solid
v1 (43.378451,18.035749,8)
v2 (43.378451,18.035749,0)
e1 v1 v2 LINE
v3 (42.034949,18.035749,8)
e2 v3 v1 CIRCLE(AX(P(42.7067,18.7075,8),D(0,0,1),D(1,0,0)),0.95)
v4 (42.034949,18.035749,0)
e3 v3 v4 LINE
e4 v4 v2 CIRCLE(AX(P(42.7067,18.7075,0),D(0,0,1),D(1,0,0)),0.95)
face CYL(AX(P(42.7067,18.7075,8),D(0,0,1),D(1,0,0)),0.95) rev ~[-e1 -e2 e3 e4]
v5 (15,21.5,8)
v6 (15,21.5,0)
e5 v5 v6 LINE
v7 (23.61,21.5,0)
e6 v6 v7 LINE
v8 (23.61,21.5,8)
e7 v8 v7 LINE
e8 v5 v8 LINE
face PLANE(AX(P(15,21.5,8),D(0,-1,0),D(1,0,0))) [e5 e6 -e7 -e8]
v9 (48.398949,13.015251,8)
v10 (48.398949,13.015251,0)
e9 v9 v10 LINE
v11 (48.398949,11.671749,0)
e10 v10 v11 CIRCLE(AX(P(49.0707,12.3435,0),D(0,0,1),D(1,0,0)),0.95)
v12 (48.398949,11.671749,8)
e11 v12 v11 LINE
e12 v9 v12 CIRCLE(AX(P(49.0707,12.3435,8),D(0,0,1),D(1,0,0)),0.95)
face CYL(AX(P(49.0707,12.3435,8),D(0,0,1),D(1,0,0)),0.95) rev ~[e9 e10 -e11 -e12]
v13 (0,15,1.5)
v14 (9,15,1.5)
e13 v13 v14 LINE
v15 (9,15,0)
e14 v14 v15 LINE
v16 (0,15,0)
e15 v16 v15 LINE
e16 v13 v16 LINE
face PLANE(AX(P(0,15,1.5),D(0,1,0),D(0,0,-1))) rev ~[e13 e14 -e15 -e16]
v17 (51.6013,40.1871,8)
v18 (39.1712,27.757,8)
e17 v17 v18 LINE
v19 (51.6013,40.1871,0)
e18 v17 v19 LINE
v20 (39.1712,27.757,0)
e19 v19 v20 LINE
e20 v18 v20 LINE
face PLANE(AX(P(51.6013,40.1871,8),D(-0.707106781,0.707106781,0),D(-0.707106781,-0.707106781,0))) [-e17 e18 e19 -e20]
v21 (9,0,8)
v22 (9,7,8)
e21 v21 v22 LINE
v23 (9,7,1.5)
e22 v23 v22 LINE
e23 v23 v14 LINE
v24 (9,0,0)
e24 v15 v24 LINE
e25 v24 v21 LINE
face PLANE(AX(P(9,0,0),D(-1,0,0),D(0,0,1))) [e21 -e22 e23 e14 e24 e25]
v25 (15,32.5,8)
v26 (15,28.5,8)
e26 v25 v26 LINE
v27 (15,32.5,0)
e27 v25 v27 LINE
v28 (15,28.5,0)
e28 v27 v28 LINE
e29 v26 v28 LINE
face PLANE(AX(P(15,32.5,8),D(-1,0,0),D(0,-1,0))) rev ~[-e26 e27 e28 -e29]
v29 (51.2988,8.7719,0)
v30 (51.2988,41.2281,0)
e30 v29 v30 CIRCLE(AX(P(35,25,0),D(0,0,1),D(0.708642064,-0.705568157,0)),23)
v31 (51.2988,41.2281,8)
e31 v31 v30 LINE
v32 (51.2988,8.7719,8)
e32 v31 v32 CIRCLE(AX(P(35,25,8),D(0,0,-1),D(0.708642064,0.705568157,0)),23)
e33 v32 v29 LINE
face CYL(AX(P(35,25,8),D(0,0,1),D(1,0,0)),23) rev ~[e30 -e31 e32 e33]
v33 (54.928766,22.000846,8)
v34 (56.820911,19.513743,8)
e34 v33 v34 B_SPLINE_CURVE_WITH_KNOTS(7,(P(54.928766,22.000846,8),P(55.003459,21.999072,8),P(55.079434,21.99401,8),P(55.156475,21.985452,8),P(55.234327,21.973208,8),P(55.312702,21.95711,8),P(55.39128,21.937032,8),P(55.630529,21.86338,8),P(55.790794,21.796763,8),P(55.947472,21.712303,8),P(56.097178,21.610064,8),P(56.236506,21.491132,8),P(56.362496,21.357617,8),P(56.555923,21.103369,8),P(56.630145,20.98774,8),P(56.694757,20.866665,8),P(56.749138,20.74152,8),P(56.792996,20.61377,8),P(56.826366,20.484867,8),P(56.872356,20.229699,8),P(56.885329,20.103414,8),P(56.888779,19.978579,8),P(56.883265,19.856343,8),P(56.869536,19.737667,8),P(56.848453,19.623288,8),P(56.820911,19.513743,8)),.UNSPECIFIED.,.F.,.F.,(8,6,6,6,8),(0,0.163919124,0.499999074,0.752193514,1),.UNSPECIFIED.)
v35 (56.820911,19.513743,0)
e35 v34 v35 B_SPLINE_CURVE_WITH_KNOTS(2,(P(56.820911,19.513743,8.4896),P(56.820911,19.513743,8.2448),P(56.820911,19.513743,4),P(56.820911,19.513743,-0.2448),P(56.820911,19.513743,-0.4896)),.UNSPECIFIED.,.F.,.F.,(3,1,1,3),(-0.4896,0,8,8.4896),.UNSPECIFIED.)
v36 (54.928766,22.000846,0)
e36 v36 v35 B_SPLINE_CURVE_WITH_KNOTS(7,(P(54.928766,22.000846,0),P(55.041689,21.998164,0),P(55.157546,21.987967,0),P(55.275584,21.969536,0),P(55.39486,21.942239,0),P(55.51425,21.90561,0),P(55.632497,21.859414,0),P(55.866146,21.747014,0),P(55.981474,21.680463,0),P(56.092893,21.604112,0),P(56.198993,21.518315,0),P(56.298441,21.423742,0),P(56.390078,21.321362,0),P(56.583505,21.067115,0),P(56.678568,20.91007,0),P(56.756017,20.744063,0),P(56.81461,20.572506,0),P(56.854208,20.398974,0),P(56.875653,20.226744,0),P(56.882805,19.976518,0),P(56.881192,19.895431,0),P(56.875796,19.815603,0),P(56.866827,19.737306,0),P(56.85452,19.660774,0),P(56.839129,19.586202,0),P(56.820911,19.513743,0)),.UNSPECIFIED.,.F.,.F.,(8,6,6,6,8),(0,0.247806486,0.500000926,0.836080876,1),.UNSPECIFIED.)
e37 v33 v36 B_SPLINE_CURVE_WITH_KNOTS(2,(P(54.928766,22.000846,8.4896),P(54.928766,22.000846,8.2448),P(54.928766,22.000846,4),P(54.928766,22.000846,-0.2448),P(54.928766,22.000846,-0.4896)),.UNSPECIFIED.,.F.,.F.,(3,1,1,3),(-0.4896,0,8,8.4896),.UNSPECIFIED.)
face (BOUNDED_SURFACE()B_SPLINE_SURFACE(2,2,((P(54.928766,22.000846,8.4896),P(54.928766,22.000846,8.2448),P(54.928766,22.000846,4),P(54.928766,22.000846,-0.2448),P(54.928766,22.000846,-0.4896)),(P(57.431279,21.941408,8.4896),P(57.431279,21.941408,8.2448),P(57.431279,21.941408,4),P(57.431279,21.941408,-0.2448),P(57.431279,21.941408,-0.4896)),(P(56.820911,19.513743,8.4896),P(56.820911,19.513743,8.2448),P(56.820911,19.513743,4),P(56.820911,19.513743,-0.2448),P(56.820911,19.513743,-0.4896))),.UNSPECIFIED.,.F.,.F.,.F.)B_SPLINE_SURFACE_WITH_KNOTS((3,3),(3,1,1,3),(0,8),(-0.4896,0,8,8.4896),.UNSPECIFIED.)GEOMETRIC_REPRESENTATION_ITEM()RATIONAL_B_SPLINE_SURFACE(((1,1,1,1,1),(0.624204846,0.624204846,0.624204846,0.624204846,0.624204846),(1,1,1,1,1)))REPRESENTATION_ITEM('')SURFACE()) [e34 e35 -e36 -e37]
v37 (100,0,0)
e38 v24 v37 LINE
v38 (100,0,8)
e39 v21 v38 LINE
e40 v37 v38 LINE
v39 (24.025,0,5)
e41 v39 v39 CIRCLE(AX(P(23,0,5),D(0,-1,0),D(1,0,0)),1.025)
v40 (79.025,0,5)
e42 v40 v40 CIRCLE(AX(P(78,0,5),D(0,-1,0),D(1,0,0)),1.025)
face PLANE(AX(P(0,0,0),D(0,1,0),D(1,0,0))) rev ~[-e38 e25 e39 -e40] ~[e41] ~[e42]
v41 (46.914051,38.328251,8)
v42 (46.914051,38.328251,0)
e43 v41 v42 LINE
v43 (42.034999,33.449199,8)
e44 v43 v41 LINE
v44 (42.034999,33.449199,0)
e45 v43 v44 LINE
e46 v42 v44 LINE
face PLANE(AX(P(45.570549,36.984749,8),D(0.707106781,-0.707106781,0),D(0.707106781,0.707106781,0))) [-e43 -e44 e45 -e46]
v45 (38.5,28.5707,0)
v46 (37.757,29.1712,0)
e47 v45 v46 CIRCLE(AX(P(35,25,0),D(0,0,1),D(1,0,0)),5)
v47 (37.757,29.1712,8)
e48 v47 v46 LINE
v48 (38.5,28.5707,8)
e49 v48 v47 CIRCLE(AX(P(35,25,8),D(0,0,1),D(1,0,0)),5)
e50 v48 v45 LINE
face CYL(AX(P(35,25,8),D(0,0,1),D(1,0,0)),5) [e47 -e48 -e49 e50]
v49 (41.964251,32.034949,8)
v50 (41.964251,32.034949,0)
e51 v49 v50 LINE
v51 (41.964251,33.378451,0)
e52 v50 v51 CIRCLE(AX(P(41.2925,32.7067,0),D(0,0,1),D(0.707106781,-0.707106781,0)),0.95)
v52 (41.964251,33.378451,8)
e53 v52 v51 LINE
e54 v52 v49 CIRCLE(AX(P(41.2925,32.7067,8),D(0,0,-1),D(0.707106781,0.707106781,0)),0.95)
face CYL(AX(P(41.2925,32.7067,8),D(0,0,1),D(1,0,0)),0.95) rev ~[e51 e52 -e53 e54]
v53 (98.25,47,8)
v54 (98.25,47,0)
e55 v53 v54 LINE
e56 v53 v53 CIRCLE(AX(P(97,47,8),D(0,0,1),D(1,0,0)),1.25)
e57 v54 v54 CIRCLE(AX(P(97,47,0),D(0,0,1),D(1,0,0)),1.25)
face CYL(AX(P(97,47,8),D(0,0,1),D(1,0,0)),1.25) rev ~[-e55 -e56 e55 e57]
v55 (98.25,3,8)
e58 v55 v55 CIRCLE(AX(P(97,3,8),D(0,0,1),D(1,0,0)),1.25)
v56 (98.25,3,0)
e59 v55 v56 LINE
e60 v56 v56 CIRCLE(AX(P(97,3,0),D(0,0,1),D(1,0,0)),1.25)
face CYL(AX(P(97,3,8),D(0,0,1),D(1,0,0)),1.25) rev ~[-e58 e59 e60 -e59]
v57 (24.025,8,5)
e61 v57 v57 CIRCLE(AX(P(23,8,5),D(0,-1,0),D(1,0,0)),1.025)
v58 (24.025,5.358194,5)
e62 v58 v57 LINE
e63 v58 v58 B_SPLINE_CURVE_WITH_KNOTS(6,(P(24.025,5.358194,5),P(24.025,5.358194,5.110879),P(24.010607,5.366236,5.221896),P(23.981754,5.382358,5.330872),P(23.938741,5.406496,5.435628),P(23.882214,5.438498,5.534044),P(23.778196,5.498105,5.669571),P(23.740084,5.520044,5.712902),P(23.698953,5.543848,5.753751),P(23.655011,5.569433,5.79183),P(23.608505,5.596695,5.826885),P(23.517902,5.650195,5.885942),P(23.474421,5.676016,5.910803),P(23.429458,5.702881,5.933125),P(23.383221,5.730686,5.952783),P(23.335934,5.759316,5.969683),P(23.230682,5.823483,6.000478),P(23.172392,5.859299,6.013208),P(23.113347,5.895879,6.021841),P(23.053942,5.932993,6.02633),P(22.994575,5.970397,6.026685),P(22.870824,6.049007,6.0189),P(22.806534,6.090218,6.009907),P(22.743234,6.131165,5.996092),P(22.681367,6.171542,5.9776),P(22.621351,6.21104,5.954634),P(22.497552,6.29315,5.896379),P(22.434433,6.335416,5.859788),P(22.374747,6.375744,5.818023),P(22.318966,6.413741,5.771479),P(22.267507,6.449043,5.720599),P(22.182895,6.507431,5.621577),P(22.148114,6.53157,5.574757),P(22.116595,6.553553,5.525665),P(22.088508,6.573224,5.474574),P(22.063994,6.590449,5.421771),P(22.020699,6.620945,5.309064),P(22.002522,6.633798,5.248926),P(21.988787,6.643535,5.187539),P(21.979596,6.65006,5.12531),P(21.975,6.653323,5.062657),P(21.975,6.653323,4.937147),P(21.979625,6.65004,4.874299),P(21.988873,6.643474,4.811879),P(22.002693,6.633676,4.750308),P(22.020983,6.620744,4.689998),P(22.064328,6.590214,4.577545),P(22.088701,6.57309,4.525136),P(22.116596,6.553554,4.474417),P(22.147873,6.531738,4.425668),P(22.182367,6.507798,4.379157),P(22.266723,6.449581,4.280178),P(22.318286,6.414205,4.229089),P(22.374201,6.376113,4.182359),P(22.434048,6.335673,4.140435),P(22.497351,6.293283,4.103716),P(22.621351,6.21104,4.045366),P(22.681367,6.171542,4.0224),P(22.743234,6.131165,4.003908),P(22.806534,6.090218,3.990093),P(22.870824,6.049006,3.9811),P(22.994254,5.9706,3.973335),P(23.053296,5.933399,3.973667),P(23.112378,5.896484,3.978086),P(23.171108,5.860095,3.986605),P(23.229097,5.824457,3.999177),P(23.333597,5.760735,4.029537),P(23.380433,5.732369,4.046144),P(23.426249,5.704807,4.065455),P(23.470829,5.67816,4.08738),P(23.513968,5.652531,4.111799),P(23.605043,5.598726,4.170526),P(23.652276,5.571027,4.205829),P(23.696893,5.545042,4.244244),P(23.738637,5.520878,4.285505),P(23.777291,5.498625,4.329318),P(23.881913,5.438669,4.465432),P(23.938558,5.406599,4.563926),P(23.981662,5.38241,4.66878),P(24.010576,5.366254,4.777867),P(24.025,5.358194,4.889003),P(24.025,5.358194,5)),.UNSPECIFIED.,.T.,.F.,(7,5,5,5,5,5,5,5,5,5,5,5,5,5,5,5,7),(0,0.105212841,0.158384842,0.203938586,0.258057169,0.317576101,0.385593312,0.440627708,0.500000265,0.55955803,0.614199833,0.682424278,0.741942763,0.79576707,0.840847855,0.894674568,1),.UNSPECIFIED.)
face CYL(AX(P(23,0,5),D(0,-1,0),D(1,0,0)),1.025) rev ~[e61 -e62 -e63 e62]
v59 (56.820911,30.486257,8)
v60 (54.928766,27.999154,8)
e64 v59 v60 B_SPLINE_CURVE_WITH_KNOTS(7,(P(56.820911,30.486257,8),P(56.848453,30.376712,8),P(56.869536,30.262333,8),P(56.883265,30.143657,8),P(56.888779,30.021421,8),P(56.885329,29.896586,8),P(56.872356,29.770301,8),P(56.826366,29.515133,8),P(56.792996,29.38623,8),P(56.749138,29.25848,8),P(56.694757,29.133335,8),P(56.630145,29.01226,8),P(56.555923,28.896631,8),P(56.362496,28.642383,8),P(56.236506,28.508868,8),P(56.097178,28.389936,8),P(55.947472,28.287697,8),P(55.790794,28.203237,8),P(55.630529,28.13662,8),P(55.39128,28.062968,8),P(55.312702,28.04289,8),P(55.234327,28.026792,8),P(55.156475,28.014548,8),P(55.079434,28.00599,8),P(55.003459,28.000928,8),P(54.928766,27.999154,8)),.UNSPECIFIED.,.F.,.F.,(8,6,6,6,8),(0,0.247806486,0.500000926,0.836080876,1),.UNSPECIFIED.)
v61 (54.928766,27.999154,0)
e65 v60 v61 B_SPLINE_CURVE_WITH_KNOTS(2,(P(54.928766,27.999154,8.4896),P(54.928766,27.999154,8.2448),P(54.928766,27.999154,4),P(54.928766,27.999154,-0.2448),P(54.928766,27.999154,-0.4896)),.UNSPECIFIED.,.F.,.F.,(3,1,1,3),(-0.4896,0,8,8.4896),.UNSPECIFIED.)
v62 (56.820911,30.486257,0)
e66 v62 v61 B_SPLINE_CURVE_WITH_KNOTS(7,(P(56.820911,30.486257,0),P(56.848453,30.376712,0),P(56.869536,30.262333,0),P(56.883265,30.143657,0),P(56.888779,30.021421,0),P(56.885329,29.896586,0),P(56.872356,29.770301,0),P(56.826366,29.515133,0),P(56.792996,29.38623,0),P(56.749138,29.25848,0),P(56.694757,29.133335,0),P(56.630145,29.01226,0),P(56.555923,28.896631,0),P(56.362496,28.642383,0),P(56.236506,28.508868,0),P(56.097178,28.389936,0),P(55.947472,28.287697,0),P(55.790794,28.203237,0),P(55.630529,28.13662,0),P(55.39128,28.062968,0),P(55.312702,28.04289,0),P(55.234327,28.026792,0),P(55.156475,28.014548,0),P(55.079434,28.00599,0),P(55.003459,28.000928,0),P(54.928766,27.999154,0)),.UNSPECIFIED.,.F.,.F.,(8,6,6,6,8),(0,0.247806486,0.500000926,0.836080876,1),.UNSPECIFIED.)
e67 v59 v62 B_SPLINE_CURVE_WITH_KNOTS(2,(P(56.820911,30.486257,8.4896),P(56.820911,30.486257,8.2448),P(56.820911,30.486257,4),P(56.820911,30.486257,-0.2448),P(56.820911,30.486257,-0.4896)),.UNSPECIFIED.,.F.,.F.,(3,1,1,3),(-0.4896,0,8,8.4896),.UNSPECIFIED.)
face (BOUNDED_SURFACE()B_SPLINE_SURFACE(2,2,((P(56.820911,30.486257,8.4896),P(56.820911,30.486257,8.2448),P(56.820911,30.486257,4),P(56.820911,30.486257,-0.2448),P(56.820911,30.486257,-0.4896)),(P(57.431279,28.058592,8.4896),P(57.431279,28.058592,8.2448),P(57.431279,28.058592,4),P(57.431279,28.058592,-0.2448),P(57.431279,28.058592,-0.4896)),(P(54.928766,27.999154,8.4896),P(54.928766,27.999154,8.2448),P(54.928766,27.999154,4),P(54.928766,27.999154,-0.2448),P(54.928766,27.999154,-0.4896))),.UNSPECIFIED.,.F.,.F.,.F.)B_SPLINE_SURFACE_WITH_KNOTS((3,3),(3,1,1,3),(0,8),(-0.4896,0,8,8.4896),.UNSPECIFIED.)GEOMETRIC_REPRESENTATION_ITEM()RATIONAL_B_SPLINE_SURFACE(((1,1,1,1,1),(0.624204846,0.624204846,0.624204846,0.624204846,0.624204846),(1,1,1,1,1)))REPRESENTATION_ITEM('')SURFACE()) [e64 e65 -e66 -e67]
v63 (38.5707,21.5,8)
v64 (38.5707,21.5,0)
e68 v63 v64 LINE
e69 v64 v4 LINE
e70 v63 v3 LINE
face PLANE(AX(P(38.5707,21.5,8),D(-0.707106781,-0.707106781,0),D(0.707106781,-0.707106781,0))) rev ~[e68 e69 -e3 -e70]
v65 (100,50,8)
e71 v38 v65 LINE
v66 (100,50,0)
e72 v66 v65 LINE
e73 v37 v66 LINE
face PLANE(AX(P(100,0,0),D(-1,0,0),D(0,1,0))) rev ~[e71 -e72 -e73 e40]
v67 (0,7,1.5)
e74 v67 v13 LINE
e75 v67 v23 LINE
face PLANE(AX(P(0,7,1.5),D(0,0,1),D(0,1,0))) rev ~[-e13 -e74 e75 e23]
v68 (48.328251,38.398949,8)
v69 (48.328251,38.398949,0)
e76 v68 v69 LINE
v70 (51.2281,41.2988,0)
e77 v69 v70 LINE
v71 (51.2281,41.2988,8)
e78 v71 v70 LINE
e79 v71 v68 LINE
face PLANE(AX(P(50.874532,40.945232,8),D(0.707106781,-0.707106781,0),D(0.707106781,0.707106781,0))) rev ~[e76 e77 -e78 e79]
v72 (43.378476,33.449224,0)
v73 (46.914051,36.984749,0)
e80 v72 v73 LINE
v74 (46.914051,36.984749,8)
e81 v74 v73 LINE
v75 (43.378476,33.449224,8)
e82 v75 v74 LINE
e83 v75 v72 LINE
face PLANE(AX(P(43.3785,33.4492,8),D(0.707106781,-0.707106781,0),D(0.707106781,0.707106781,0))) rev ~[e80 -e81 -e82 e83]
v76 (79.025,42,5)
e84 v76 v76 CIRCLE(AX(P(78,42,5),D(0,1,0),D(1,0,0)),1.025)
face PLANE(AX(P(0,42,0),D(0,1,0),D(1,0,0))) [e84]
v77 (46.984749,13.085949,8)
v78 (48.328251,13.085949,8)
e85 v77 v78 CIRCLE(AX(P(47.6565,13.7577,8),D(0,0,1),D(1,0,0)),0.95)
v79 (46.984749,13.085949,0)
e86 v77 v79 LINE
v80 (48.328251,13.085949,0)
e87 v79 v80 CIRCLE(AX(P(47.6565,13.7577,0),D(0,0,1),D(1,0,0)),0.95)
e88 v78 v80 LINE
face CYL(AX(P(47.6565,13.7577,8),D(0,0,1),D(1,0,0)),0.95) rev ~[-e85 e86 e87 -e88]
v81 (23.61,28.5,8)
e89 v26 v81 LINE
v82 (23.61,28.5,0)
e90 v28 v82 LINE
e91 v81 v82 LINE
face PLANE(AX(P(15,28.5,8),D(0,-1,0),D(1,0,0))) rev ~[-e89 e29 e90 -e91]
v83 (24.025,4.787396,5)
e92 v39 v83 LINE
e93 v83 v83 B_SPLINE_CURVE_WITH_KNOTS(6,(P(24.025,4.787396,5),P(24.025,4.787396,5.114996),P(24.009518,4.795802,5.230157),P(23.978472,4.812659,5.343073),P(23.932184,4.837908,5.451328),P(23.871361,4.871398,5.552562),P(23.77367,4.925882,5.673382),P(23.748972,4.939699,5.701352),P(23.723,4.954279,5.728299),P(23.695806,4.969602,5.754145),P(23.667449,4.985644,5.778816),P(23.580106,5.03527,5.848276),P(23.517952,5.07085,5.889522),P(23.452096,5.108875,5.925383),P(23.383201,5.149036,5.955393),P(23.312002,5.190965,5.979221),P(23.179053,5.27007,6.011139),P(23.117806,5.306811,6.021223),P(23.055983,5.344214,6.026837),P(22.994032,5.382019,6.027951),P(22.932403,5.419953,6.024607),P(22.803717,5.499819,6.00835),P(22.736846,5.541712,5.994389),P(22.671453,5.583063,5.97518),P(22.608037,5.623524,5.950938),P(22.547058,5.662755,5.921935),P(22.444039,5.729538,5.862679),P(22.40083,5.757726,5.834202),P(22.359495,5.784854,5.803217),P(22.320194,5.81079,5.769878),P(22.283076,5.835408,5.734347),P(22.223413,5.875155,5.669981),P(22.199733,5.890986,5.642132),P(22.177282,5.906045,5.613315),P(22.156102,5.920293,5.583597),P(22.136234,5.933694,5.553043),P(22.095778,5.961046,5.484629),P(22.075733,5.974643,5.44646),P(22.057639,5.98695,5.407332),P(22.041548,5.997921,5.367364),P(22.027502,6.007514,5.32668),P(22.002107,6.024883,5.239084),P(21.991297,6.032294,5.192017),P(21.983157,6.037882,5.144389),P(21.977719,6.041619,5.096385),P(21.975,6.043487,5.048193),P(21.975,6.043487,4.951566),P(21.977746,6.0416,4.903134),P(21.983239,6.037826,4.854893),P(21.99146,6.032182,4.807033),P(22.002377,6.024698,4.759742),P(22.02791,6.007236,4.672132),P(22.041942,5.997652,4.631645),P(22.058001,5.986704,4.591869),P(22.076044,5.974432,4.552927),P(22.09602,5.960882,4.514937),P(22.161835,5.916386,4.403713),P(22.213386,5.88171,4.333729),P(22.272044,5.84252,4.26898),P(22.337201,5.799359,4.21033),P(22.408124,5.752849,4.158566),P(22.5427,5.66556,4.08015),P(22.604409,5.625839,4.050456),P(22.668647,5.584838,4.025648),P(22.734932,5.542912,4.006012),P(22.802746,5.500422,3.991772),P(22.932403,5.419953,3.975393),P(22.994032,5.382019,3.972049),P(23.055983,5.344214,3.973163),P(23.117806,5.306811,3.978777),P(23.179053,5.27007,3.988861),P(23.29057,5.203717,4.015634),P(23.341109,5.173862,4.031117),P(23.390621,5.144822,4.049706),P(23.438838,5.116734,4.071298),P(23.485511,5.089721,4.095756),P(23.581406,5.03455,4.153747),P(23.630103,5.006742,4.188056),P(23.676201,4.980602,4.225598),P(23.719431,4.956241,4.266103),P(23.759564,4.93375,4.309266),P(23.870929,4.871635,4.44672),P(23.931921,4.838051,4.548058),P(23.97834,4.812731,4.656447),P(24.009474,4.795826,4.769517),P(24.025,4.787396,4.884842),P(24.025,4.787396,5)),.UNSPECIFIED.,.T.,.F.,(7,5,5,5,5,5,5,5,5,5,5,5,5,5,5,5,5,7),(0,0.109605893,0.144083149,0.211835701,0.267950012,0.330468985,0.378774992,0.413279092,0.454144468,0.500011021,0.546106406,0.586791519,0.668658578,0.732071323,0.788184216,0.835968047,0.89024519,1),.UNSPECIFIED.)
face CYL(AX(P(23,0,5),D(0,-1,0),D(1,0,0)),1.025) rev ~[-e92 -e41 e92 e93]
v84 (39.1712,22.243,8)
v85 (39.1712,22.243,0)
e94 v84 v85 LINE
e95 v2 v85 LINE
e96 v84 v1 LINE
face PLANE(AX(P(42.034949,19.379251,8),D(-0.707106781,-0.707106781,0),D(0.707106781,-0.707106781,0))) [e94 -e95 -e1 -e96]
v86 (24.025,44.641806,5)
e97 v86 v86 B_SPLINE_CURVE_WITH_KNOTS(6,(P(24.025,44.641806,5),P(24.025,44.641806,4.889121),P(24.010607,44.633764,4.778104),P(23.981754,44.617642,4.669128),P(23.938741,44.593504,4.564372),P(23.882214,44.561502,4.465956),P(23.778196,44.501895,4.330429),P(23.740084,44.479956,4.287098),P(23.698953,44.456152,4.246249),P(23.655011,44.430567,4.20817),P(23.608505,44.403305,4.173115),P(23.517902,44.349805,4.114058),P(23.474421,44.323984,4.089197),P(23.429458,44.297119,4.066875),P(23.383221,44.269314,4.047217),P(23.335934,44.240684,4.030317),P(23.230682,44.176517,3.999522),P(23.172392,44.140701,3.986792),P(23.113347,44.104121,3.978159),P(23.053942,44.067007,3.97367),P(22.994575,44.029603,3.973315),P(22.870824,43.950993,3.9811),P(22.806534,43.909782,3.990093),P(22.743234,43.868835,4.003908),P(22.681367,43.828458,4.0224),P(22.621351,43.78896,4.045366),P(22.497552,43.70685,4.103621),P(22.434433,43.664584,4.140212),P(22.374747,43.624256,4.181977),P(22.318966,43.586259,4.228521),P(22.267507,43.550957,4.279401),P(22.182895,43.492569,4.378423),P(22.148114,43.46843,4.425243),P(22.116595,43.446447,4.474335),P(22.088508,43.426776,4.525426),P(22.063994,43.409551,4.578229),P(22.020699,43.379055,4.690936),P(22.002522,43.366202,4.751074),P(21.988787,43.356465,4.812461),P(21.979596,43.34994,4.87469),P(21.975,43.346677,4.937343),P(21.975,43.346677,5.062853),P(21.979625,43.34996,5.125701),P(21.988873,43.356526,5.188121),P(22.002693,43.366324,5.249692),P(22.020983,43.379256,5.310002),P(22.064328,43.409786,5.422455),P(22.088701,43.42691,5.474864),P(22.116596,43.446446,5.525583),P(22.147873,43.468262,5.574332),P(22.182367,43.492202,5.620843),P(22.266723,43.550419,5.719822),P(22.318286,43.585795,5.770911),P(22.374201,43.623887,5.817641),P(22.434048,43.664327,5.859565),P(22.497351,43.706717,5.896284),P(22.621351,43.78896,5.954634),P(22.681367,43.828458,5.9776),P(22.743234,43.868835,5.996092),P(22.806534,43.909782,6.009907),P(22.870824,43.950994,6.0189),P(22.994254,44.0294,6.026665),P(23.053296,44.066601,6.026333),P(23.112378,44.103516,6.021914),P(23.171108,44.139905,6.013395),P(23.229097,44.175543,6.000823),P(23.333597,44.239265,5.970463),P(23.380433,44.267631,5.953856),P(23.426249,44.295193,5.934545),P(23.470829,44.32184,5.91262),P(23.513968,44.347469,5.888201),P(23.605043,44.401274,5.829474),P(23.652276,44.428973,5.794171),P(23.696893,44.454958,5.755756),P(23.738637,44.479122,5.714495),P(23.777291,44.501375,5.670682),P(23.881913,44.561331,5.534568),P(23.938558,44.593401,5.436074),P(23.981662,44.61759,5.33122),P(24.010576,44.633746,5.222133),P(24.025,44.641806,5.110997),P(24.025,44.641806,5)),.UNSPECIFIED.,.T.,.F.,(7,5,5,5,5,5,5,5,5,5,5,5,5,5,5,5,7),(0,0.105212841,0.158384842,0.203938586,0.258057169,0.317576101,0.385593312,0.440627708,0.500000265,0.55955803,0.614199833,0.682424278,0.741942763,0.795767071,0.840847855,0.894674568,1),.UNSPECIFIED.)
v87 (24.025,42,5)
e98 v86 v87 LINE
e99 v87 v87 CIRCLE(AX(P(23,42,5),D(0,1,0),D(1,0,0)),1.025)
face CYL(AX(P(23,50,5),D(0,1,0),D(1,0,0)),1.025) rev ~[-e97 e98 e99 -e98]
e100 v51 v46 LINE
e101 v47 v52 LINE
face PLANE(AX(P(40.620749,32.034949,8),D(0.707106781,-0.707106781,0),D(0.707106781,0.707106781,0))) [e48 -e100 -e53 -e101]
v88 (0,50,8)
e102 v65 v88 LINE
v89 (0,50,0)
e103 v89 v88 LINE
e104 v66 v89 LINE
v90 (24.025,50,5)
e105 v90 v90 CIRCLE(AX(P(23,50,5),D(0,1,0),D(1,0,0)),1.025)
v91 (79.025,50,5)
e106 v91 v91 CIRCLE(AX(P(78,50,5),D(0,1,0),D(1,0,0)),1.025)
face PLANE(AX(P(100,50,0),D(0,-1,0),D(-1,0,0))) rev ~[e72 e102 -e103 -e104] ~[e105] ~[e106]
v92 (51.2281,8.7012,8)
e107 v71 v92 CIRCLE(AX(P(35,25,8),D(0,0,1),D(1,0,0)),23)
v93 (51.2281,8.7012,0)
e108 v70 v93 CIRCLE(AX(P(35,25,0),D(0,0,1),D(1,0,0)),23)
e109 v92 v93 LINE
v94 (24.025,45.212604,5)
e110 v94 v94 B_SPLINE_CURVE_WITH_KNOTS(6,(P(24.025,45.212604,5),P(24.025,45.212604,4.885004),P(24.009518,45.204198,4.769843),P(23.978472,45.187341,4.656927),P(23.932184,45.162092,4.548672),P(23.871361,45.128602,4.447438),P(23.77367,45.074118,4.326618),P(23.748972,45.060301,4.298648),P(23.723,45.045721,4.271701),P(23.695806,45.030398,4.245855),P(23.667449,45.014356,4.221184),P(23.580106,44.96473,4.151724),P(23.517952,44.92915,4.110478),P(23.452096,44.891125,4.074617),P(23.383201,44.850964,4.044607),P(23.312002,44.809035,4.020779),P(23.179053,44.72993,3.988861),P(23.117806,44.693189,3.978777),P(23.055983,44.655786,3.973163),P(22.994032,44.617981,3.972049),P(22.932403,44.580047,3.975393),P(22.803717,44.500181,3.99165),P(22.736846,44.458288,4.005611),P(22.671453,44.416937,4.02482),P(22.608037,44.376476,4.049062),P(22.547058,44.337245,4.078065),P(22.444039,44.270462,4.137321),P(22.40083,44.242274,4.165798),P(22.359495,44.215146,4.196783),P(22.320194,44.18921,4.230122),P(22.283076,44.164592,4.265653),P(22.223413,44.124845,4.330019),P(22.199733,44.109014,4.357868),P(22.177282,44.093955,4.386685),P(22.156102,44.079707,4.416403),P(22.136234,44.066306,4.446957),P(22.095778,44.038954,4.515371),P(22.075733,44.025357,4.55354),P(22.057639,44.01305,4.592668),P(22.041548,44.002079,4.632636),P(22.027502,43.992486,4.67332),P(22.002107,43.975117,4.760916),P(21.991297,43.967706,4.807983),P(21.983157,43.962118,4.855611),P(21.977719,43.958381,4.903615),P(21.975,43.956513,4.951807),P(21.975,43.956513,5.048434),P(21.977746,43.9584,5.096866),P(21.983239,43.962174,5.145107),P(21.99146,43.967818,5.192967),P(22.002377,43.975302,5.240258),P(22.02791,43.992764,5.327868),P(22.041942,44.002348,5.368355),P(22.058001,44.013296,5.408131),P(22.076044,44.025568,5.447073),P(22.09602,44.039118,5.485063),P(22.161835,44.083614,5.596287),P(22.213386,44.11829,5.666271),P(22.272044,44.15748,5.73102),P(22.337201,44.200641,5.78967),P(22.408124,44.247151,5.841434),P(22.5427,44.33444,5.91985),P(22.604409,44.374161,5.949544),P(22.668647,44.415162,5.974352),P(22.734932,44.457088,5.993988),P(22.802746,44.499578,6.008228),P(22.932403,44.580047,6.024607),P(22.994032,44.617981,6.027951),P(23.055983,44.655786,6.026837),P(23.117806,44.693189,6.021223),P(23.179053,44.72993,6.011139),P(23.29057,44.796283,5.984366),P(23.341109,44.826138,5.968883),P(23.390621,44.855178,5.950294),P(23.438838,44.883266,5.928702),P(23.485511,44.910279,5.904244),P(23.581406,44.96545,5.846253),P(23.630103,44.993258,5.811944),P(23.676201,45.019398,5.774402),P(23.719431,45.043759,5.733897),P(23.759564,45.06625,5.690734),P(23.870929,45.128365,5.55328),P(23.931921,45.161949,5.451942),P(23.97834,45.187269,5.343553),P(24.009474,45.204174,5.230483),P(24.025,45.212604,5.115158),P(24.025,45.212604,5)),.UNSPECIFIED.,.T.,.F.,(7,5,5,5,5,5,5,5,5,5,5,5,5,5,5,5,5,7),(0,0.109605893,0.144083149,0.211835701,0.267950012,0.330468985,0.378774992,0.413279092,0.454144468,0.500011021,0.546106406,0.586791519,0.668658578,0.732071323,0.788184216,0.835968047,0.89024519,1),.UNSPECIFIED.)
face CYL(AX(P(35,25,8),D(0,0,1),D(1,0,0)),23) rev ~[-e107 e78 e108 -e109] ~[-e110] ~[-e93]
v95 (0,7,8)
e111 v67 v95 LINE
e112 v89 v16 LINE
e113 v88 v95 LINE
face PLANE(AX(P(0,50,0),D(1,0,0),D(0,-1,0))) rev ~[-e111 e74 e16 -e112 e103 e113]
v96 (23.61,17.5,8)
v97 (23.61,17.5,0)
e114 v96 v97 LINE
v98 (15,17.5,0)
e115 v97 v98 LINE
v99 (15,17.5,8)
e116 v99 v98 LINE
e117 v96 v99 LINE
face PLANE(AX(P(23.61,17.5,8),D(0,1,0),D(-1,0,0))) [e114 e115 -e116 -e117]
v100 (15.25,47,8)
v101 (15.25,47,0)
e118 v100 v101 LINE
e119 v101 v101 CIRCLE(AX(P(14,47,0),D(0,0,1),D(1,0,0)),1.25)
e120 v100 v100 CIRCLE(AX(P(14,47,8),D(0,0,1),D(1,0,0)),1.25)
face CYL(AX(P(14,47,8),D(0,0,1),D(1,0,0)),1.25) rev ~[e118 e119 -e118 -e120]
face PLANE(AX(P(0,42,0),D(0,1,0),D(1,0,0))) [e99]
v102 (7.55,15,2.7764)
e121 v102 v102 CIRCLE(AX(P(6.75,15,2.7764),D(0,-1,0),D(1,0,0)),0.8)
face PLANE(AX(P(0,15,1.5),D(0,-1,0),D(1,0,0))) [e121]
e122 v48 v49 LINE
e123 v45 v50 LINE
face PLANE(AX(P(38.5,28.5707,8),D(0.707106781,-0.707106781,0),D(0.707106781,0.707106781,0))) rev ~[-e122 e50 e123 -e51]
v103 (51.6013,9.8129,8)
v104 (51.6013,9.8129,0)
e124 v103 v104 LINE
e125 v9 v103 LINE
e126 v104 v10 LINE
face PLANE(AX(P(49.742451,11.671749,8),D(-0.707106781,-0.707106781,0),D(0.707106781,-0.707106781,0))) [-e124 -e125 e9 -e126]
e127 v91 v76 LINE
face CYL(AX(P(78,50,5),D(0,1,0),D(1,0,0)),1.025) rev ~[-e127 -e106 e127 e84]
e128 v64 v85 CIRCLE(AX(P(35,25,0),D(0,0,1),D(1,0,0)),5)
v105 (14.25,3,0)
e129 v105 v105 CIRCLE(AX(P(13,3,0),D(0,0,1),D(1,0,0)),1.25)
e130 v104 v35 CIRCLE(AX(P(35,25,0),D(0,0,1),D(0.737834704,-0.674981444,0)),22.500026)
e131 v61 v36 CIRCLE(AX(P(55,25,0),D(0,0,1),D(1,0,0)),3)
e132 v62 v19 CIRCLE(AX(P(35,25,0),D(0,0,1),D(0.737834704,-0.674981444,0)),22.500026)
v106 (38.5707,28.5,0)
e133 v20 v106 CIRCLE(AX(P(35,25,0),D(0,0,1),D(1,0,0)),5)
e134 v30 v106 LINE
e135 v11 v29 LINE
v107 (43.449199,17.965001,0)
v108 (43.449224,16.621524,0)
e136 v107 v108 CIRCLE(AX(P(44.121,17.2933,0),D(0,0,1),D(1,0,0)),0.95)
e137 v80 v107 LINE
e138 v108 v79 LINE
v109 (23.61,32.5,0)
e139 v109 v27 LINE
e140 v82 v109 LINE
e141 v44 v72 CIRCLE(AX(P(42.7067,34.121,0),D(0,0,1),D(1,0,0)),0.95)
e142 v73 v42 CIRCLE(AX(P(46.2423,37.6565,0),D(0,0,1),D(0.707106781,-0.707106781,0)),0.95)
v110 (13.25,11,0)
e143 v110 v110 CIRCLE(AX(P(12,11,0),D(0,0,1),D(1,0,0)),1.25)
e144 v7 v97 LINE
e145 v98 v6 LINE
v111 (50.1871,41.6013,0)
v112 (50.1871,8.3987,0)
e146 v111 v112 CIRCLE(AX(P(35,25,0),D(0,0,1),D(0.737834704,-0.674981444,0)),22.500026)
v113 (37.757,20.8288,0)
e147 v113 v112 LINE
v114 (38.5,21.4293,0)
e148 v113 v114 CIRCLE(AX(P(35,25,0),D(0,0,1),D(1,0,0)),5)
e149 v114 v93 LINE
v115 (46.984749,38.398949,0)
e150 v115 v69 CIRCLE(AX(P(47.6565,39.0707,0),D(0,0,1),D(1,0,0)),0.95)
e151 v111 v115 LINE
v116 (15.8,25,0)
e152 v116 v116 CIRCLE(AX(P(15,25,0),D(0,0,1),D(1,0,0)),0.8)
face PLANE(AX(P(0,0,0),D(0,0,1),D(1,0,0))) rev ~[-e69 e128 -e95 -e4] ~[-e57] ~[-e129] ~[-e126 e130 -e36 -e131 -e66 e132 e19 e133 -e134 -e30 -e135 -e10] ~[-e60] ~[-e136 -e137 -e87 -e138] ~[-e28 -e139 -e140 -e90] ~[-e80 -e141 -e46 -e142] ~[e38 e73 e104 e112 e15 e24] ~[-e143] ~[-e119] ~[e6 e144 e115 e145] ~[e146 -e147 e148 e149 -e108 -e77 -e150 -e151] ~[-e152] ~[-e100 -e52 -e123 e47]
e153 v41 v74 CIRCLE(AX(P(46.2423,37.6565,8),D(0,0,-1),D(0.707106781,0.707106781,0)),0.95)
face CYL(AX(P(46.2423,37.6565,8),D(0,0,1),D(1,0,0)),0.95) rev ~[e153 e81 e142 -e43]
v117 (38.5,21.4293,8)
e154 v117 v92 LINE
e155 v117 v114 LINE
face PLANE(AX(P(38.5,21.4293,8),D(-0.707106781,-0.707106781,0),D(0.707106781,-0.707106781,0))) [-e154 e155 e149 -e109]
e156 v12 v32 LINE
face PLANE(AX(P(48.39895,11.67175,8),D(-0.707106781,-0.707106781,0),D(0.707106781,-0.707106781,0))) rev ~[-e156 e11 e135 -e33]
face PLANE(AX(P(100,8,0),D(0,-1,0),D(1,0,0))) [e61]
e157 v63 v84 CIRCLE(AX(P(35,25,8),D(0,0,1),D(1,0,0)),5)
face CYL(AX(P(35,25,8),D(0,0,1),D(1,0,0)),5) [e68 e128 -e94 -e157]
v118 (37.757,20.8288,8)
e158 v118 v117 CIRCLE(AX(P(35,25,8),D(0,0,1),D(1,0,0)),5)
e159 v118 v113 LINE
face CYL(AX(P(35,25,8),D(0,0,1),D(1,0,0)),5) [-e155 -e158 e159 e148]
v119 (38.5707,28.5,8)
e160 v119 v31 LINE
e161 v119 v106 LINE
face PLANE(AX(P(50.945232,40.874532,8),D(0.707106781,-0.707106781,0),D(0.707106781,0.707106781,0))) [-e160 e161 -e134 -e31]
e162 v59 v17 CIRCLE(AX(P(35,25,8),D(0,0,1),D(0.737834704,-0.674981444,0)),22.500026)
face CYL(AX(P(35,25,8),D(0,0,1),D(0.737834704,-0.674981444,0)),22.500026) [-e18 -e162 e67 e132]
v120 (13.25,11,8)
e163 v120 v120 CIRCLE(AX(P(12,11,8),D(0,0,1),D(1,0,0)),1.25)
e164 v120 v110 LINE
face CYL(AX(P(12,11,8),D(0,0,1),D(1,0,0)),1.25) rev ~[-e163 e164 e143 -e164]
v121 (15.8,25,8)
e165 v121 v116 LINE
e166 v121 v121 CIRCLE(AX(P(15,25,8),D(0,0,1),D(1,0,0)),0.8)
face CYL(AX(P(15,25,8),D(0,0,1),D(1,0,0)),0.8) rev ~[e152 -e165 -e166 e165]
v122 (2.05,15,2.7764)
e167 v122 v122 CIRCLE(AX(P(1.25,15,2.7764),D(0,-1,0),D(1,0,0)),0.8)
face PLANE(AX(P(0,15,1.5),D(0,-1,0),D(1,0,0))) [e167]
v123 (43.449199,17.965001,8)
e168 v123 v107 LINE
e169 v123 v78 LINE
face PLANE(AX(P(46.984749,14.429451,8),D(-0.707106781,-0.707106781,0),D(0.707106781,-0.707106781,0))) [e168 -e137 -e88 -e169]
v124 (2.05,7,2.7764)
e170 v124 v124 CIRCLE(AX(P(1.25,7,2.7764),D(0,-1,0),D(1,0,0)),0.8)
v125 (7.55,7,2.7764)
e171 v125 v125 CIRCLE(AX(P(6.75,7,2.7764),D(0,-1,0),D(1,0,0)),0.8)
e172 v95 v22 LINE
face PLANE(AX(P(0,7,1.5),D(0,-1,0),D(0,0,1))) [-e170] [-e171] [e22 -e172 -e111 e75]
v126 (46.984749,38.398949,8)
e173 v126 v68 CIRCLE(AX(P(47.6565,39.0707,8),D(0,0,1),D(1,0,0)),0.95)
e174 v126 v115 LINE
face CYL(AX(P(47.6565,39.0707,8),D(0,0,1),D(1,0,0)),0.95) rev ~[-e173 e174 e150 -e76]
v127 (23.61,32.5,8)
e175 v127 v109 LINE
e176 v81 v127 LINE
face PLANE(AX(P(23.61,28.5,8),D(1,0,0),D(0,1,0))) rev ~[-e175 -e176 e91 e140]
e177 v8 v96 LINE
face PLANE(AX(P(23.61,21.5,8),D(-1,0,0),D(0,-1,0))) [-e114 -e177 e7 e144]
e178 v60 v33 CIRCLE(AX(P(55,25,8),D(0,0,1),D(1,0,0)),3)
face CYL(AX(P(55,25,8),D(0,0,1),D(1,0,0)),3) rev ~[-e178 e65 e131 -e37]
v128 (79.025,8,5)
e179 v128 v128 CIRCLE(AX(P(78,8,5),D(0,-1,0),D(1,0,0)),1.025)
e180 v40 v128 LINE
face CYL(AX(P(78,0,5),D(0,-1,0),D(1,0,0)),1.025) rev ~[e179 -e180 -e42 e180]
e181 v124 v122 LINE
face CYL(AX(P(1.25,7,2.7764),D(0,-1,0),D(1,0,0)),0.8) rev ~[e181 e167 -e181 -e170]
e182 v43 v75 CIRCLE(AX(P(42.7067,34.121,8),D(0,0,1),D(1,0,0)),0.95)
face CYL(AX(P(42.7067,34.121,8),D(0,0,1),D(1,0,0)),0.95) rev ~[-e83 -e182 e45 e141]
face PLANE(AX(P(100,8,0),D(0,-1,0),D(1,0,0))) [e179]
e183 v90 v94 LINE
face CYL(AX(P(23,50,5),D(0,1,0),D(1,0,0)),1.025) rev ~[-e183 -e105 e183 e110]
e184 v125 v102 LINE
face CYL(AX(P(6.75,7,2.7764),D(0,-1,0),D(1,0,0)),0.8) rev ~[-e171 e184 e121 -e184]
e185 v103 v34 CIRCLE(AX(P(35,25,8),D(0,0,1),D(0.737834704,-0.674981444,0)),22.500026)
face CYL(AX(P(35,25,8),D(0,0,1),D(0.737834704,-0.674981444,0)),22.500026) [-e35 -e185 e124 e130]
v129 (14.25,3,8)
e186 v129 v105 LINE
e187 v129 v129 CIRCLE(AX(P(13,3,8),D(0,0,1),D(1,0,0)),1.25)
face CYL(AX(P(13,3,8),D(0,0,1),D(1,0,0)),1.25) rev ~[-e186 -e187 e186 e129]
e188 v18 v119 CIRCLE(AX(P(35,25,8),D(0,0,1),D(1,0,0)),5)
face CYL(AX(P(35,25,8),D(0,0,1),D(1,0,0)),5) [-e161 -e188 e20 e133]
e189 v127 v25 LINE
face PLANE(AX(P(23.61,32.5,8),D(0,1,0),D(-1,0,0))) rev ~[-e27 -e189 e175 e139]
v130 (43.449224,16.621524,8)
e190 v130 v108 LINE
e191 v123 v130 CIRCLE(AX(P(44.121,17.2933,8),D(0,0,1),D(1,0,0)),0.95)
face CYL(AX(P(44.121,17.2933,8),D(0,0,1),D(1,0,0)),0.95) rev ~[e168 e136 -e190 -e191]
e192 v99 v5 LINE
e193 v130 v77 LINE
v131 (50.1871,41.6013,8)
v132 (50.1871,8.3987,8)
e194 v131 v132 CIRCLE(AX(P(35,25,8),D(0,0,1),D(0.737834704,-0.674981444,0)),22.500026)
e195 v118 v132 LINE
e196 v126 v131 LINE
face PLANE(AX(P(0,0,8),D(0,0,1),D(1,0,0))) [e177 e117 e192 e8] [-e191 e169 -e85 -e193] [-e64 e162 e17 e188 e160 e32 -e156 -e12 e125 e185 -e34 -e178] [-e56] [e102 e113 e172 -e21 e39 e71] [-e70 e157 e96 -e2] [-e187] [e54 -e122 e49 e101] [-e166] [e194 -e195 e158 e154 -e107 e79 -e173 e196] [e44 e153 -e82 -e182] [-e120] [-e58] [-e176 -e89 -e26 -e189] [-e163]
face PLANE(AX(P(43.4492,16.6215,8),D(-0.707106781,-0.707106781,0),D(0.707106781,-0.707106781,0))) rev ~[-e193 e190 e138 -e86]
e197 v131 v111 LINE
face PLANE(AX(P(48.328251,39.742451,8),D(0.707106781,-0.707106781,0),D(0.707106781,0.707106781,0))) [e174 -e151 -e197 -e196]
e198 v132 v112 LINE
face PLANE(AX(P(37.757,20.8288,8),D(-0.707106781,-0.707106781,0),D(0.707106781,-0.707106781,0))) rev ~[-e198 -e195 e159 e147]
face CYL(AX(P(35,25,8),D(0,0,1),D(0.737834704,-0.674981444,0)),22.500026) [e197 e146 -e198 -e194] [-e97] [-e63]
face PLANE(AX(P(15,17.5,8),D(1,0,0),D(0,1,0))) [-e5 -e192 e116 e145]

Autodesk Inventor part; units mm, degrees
ref_plane "YZ Plane" through (0, 0, 0) normal (1, 0, 0) x (0, 1, 0)
ref_plane "XZ Plane" through (0, 0, 0) normal (0, 1, 0) x (-1, 0, 0)
ref_plane "XY Plane" through (0, 0, 0) normal (0, 0, 1) x (1, 0, 0)
sketch "Sketch1" plane through (0, 0, 0) normal (0, 0, 1) x (1, 0, 0)
  line L0 (0, 0) -> (100, 0)
  line L1 (100, 0) -> (100, 50)
  line L2 (100, 50) -> (0, 50)
  line L3 (0, 50) -> (0, 0)
  circle A0 centre (95, 45) radius 1.75
  circle A1 centre (95, 5) radius 1.75
  circle A2 centre (15, 45) radius 1.75
  circle A3 centre (15, 5) radius 1.75
  dimension "d0" = 50
  dimension "d1" = 100
  dimension "d2" = 5
  dimension "d3" = 5
  dimension "d4" = 5
  dimension "d5" = 5
  dimension "d6" = 5
  dimension "d7" = 15
  dimension "d8" = 15
  dimension "d9" = 5
  dimension "d10" = 3.5
  dimension "d11" = 3.5
  dimension "d12" = 3.5
  dimension "d13" = 3.5
extrude "Extrusion1" add sketch "Sketch1" along normal blind 8 contours L3 L2 L1 L0 | A0 | A1 | A2 | A3
sketch "Sketch4" plane through (0, 0, 8) normal (0, 0, 1) x (1, 0, 0)
  circle A0 centre (15, 25) radius 0.8
  circle A1 centre (55, 25) radius 3
  line L0 (0, 50) -> (0, 0) projected
  line L1 (35, 25) -> (52.9141, 42.9141)
  line L2 (35, 25) -> (41.4896, 25)
  line L3 (35, 25) -> (55.1987, 4.8013)
  circle A2 centre (35, 25) radius 23
  line L4 (0, 0) -> (100, 0) projected
  circle A3 centre (35, 25) radius 5
  line L5 (38.5, 28.5707) -> (51.2281, 41.2988)
  line L6 (37.757, 29.1712) -> (50.1871, 41.6013)
  line L7 (38.5707, 28.5) -> (51.2988, 41.2281)
  line L8 (51.6013, 40.1871) -> (39.1712, 27.757)
  line L9 (38.5707, 21.5) -> (51.2988, 8.7719)
  line L10 (38.5, 21.4293) -> (51.2281, 8.7012)
  line L11 (37.757, 20.8288) -> (50.1871, 8.3987)
  line L12 (39.1712, 22.243) -> (51.6013, 9.8129)
  arc A4 (51.6013, 9.8129) -> (50.1871, 8.3987) centre (35, 25) ccw
  circle A5 centre (41.2925, 32.7067) radius 0.95
  circle A6 centre (42.7067, 34.121) radius 0.95
  circle A7 centre (46.2423, 37.6565) radius 0.95
  circle A8 centre (47.6565, 39.0707) radius 0.95
  circle A9 centre (42.7067, 18.7075) radius 0.95
  circle A10 centre (44.121, 17.2933) radius 0.95
  circle A11 centre (47.6565, 13.7577) radius 0.95
  circle A12 centre (49.0707, 12.3435) radius 0.95
  point P0 (0, 15)
  point P1 (7, 0)
  point P2 (57.4312, 26.7576)
  point P3 (57.4312, 23.2424)
  point P4 (58, 25)
  point P5 (50.9452, 40.8745)
  point P6 (50.8745, 40.9452)
  point P7 (41.9643, 32.035)
  point P8 (41.9643, 33.3785)
  point P9 (42.035, 33.4492)
  point P10 (43.3785, 33.4492)
  point P11 (46.914, 36.9847)
  point P12 (46.914, 38.3282)
  point P13 (48.3282, 38.399)
  point P14 (46.9847, 38.399)
  point P15 (42.035, 18.0357)
  point P16 (43.3785, 18.0357)
  point P17 (43.4492, 17.965)
  point P18 (43.4492, 16.6215)
  point P19 (46.9847, 13.086)
  point P20 (48.3282, 13.086)
  point P21 (48.399, 13.0153)
  point P22 (48.399, 11.6718)
  dimension "d34" = 10
  dimension "d22" = 15
  dimension "d23" = 40
  dimension "d24" = 20
  dimension "d26" = 1.6
  dimension "d27" = 6
  dimension "d28" = 45
  dimension "d29" = 45
  dimension "d30" = 46
  dimension "d31" = 25
  dimension "d32" = 25
  dimension "d33" = 25
  dimension "d35" = 1
  dimension "d36" = 1
  dimension "d37" = 0.1
  dimension "d38" = 0.05
  dimension "d39" = 0.1
  dimension "d40" = 0.05
  dimension "d41" = 1
  dimension "d42" = 1
  dimension "d79" = 5
  dimension "d80" = 2
  dimension "d81" = 5
  dimension "d82" = 2
  dimension "d83" = 5
  dimension "d84" = 2
  dimension "d85" = 5
  dimension "d86" = 2
extrude "Extrusion4" cut sketch "Sketch4" against normal blind 8 contours A0 | A1 A4 | A2 L9 A12 L12 A4 A1 | A1 A4 L7 A2 | A4 A1 | L8 A3 L7 A4 | A12 L12 | L5 A4 L11 A3 L10 A2 | L9 A10 L12 A11 | A11 L12 | L5 A8 L6 A4 | A3 L12 A9 L9 | A10 L12 | A3 L6 A5 L5 | A8 L6 | A9 L12 | A5 L6 | L5 A6 L6 A7 | A7 L6 | A6 L6 picked at (49.0352, 12.0288) picked at (47.3576, 13.4145) picked at (44.1564, 16.9786) picked at (47.9671, 39.0089) picked at (42.6021, 18.4086) picked at (41.6092, 32.7067) picked at (46.2068, 37.3418) picked at (43.0173, 33.7349)
fillet "Fillet2" radius 2 2 edges at (57.4312, 26.7576, 4) (57.4312, 23.2424, 4)
sketch "Sketch5" plane through (0, 0, 0) normal (-1, 0, 0) x (0, 0, 1)
  line L0 (0, 0) -> (1.5, 0)
  line L1 (1.5, 0) -> (1.5, 15)
  line L2 (1.5, 15) -> (0, 15)
  line L3 (0, 15) -> (0, 0)
  line L4 (8, 0) -> (8, 50) projected
  line L5 (8, 0) -> (1.5, 0)
  line L6 (1.5, 0) -> (1.5, 7)
  line L7 (1.5, 7) -> (8, 7)
  line L8 (8, 7) -> (8, 0)
  dimension "d47" = 15
  dimension "d48" = 1.5
  dimension "d51" = 7
extrude "Extrusion5" cut sketch "Sketch5" against normal blind 9
sketch "Sketch6" plane through (0, 7, 1.5) normal (0, -1, 0) x (1, 0, 0)
  circle A0 centre (6.75, 1.2764) radius 1.1 projected
  circle A1 centre (1.25, 1.2764) radius 1.1 projected
  circle A2 centre (6.75, 1.2764) radius 0.8
  circle A3 centre (1.25, 1.2764) radius 0.8
  point P0 (0, -1.5)
  dimension "d52" = 1.6
  dimension "d53" = 1.6
extrude "Extrusion6" cut sketch "Sketch6" against normal blind 8 contours A2 | A3
sketch "Sketch7" plane through (0, 0, 8) normal (0, 0, 1) x (1, 0, 0)
  circle A0 centre (97, 3) radius 1.7 projected
  circle A1 centre (97, 47) radius 1.7 projected
  circle A2 centre (12, 11) radius 1.7 projected
  circle A3 centre (21.5, 47.5) radius 1.7 projected
  circle A4 centre (97, 3) radius 1.25
  circle A5 centre (97, 47) radius 1.25
  circle A6 centre (13, 3) radius 1.25
  circle A7 centre (12, 11) radius 1.25
  circle A8 centre (21.5, 47.5) radius 1.25
  circle A9 centre (14, 47) radius 1.7
  circle A10 centre (14, 47) radius 1.25
  line L0 (9, 0) -> (100, 0) projected
  line L1 (9, 0) -> (9, 15) projected
  point P0 (0, 0)
  dimension "d56" = 2.5
  dimension "d57" = 2.5
  dimension "d58" = 2.5
  dimension "d59" = 2.5
  dimension "d60" = 2.5
  dimension "d63" = 2.5
  dimension "d64" = 3
  dimension "d65" = 4
extrude "Extrusion7" cut sketch "Sketch7" against normal blind 8 contours A4 | A5 | A6 | A7 | A10
sketch "Sketch8" plane through (0, 50, 0) normal (0, 1, 0) x (1, 0, 0)
  circle A0 centre (23, -5) radius 1.375
  circle A1 centre (78, -5) radius 1.375
  circle A2 centre (23, -5) radius 1.025
  circle A3 centre (78, -5) radius 1.025
  line L0 (0, 0) -> (0, -8) projected
  dimension "d68" = 2.05
  dimension "d69" = 2.05
  dimension "d74" = 23
  dimension "d75" = 23
  dimension "d76" = 55
extrude "Extrusion8" cut sketch "Sketch8" against normal blind 8 contours A2 | A3
sketch "Sketch9" plane through (100, 0, 0) normal (0, -1, 0) x (1, 0, 0)
  circle A0 centre (-77, 5) radius 1.375
  circle A1 centre (-22, 5) radius 1.375
  circle A2 centre (-77, 5) radius 1.025
  circle A3 centre (-22, 5) radius 1.025
  line L0 (-100, 1.5) -> (-100, 8) projected
  point P0 (-100, 0)
  dimension "d70" = 2.05
  dimension "d71" = 2.05
  dimension "d77" = 23
  dimension "d78" = 55
extrude "Extrusion9" cut sketch "Sketch9" against normal blind 8 contours A2 | A3
sketch "Sketch10" plane through (0, 0, 8) normal (0, 0, 1) x (1, 0, 0)
  line L0 (15, 28.5) -> (23.61, 28.5)
  line L1 (23.61, 28.5) -> (23.61, 32.5)
  line L2 (23.61, 32.5) -> (15, 32.5)
  line L3 (15, 32.5) -> (15, 28.5)
  line L4 (15, 21.5) -> (23.61, 21.5)
  line L5 (23.61, 21.5) -> (23.61, 17.5)
  line L6 (23.61, 17.5) -> (15, 17.5)
  line L7 (15, 17.5) -> (15, 21.5)
  circle A0 centre (15, 25) radius 0.8 projected
  point P0 (0, 0)
  dimension "d87" = 3.5
  dimension "d88" = 3.5
  dimension "d89" = 4
  dimension "d90" = 4
  dimension "d91" = 0
  dimension "d92" = 8.61
extrude "Extrusion10" cut sketch "Sketch10" against normal blind 10 contours L3 L2 L1 L0 | L4 L5 L6 L7
equation "\"d4\" = d3"
equation "\"d5\" = d2"
equation "\"d6\" = d3"
equation "\"d9\" = d4"
equation "\"d10\" = d11"
equation "\"d12\" = d11"
equation "\"d13\" = d11"
equation "\"d24\" = 0.5 * d23"
equation "\"d37\" = BladeThicknessRCC"
equation "\"d38\" = 0.5 * d37"
equation "\"d39\" = BladeThicknessRCC"
equation "\"d40\" = 0.5 * BladeThicknessRCC"
equation "\"d59\" = d58"
equation "\"d60\" = d59"
equation "\"d75\" = d74"
equation "\"bladeThicknessTablePushing\" = 0.1"
equation "\"bladeThicknessTable\" = 0.1"
equation "\"bladeThicknessForceConverter\" = 0.2"
equation "\"bladeThicknessWheelAnchor\" = 0.1"
equation "\"safetyPlay\" = 0.1"
equation "\"OffsetMotorSpring\" = -1"
equation "\"BladeThicknessRCC\" = 0.1"
equation "\"bladeThicknessZeroConverter\" = 0.1"
equation "\"rangeXProbeMin\" = -0.6"
equation "\"thicknessWheelPlate\" = 8"
equation "\"rangeXProbeMax\" = 0.6"
equation "\"BladeLengthRCC\" = 18"
equation "\"bladeLengthTable\" = 18"
equation "\"bladeLengthWheelAnchor\" = 7.5"
equation "\"RCCdeadCenter\" = 5"
equation "\"bladeLengthZeroConverter\" = 11.98"
equation "\"bladeLengthTablePushing\" = 12"
equation "\"bladeLengthForceConverter\" = 12.125"
equation "\"thicknessConverterPlate\" = 4"
properties part number "RoueV3partA"
